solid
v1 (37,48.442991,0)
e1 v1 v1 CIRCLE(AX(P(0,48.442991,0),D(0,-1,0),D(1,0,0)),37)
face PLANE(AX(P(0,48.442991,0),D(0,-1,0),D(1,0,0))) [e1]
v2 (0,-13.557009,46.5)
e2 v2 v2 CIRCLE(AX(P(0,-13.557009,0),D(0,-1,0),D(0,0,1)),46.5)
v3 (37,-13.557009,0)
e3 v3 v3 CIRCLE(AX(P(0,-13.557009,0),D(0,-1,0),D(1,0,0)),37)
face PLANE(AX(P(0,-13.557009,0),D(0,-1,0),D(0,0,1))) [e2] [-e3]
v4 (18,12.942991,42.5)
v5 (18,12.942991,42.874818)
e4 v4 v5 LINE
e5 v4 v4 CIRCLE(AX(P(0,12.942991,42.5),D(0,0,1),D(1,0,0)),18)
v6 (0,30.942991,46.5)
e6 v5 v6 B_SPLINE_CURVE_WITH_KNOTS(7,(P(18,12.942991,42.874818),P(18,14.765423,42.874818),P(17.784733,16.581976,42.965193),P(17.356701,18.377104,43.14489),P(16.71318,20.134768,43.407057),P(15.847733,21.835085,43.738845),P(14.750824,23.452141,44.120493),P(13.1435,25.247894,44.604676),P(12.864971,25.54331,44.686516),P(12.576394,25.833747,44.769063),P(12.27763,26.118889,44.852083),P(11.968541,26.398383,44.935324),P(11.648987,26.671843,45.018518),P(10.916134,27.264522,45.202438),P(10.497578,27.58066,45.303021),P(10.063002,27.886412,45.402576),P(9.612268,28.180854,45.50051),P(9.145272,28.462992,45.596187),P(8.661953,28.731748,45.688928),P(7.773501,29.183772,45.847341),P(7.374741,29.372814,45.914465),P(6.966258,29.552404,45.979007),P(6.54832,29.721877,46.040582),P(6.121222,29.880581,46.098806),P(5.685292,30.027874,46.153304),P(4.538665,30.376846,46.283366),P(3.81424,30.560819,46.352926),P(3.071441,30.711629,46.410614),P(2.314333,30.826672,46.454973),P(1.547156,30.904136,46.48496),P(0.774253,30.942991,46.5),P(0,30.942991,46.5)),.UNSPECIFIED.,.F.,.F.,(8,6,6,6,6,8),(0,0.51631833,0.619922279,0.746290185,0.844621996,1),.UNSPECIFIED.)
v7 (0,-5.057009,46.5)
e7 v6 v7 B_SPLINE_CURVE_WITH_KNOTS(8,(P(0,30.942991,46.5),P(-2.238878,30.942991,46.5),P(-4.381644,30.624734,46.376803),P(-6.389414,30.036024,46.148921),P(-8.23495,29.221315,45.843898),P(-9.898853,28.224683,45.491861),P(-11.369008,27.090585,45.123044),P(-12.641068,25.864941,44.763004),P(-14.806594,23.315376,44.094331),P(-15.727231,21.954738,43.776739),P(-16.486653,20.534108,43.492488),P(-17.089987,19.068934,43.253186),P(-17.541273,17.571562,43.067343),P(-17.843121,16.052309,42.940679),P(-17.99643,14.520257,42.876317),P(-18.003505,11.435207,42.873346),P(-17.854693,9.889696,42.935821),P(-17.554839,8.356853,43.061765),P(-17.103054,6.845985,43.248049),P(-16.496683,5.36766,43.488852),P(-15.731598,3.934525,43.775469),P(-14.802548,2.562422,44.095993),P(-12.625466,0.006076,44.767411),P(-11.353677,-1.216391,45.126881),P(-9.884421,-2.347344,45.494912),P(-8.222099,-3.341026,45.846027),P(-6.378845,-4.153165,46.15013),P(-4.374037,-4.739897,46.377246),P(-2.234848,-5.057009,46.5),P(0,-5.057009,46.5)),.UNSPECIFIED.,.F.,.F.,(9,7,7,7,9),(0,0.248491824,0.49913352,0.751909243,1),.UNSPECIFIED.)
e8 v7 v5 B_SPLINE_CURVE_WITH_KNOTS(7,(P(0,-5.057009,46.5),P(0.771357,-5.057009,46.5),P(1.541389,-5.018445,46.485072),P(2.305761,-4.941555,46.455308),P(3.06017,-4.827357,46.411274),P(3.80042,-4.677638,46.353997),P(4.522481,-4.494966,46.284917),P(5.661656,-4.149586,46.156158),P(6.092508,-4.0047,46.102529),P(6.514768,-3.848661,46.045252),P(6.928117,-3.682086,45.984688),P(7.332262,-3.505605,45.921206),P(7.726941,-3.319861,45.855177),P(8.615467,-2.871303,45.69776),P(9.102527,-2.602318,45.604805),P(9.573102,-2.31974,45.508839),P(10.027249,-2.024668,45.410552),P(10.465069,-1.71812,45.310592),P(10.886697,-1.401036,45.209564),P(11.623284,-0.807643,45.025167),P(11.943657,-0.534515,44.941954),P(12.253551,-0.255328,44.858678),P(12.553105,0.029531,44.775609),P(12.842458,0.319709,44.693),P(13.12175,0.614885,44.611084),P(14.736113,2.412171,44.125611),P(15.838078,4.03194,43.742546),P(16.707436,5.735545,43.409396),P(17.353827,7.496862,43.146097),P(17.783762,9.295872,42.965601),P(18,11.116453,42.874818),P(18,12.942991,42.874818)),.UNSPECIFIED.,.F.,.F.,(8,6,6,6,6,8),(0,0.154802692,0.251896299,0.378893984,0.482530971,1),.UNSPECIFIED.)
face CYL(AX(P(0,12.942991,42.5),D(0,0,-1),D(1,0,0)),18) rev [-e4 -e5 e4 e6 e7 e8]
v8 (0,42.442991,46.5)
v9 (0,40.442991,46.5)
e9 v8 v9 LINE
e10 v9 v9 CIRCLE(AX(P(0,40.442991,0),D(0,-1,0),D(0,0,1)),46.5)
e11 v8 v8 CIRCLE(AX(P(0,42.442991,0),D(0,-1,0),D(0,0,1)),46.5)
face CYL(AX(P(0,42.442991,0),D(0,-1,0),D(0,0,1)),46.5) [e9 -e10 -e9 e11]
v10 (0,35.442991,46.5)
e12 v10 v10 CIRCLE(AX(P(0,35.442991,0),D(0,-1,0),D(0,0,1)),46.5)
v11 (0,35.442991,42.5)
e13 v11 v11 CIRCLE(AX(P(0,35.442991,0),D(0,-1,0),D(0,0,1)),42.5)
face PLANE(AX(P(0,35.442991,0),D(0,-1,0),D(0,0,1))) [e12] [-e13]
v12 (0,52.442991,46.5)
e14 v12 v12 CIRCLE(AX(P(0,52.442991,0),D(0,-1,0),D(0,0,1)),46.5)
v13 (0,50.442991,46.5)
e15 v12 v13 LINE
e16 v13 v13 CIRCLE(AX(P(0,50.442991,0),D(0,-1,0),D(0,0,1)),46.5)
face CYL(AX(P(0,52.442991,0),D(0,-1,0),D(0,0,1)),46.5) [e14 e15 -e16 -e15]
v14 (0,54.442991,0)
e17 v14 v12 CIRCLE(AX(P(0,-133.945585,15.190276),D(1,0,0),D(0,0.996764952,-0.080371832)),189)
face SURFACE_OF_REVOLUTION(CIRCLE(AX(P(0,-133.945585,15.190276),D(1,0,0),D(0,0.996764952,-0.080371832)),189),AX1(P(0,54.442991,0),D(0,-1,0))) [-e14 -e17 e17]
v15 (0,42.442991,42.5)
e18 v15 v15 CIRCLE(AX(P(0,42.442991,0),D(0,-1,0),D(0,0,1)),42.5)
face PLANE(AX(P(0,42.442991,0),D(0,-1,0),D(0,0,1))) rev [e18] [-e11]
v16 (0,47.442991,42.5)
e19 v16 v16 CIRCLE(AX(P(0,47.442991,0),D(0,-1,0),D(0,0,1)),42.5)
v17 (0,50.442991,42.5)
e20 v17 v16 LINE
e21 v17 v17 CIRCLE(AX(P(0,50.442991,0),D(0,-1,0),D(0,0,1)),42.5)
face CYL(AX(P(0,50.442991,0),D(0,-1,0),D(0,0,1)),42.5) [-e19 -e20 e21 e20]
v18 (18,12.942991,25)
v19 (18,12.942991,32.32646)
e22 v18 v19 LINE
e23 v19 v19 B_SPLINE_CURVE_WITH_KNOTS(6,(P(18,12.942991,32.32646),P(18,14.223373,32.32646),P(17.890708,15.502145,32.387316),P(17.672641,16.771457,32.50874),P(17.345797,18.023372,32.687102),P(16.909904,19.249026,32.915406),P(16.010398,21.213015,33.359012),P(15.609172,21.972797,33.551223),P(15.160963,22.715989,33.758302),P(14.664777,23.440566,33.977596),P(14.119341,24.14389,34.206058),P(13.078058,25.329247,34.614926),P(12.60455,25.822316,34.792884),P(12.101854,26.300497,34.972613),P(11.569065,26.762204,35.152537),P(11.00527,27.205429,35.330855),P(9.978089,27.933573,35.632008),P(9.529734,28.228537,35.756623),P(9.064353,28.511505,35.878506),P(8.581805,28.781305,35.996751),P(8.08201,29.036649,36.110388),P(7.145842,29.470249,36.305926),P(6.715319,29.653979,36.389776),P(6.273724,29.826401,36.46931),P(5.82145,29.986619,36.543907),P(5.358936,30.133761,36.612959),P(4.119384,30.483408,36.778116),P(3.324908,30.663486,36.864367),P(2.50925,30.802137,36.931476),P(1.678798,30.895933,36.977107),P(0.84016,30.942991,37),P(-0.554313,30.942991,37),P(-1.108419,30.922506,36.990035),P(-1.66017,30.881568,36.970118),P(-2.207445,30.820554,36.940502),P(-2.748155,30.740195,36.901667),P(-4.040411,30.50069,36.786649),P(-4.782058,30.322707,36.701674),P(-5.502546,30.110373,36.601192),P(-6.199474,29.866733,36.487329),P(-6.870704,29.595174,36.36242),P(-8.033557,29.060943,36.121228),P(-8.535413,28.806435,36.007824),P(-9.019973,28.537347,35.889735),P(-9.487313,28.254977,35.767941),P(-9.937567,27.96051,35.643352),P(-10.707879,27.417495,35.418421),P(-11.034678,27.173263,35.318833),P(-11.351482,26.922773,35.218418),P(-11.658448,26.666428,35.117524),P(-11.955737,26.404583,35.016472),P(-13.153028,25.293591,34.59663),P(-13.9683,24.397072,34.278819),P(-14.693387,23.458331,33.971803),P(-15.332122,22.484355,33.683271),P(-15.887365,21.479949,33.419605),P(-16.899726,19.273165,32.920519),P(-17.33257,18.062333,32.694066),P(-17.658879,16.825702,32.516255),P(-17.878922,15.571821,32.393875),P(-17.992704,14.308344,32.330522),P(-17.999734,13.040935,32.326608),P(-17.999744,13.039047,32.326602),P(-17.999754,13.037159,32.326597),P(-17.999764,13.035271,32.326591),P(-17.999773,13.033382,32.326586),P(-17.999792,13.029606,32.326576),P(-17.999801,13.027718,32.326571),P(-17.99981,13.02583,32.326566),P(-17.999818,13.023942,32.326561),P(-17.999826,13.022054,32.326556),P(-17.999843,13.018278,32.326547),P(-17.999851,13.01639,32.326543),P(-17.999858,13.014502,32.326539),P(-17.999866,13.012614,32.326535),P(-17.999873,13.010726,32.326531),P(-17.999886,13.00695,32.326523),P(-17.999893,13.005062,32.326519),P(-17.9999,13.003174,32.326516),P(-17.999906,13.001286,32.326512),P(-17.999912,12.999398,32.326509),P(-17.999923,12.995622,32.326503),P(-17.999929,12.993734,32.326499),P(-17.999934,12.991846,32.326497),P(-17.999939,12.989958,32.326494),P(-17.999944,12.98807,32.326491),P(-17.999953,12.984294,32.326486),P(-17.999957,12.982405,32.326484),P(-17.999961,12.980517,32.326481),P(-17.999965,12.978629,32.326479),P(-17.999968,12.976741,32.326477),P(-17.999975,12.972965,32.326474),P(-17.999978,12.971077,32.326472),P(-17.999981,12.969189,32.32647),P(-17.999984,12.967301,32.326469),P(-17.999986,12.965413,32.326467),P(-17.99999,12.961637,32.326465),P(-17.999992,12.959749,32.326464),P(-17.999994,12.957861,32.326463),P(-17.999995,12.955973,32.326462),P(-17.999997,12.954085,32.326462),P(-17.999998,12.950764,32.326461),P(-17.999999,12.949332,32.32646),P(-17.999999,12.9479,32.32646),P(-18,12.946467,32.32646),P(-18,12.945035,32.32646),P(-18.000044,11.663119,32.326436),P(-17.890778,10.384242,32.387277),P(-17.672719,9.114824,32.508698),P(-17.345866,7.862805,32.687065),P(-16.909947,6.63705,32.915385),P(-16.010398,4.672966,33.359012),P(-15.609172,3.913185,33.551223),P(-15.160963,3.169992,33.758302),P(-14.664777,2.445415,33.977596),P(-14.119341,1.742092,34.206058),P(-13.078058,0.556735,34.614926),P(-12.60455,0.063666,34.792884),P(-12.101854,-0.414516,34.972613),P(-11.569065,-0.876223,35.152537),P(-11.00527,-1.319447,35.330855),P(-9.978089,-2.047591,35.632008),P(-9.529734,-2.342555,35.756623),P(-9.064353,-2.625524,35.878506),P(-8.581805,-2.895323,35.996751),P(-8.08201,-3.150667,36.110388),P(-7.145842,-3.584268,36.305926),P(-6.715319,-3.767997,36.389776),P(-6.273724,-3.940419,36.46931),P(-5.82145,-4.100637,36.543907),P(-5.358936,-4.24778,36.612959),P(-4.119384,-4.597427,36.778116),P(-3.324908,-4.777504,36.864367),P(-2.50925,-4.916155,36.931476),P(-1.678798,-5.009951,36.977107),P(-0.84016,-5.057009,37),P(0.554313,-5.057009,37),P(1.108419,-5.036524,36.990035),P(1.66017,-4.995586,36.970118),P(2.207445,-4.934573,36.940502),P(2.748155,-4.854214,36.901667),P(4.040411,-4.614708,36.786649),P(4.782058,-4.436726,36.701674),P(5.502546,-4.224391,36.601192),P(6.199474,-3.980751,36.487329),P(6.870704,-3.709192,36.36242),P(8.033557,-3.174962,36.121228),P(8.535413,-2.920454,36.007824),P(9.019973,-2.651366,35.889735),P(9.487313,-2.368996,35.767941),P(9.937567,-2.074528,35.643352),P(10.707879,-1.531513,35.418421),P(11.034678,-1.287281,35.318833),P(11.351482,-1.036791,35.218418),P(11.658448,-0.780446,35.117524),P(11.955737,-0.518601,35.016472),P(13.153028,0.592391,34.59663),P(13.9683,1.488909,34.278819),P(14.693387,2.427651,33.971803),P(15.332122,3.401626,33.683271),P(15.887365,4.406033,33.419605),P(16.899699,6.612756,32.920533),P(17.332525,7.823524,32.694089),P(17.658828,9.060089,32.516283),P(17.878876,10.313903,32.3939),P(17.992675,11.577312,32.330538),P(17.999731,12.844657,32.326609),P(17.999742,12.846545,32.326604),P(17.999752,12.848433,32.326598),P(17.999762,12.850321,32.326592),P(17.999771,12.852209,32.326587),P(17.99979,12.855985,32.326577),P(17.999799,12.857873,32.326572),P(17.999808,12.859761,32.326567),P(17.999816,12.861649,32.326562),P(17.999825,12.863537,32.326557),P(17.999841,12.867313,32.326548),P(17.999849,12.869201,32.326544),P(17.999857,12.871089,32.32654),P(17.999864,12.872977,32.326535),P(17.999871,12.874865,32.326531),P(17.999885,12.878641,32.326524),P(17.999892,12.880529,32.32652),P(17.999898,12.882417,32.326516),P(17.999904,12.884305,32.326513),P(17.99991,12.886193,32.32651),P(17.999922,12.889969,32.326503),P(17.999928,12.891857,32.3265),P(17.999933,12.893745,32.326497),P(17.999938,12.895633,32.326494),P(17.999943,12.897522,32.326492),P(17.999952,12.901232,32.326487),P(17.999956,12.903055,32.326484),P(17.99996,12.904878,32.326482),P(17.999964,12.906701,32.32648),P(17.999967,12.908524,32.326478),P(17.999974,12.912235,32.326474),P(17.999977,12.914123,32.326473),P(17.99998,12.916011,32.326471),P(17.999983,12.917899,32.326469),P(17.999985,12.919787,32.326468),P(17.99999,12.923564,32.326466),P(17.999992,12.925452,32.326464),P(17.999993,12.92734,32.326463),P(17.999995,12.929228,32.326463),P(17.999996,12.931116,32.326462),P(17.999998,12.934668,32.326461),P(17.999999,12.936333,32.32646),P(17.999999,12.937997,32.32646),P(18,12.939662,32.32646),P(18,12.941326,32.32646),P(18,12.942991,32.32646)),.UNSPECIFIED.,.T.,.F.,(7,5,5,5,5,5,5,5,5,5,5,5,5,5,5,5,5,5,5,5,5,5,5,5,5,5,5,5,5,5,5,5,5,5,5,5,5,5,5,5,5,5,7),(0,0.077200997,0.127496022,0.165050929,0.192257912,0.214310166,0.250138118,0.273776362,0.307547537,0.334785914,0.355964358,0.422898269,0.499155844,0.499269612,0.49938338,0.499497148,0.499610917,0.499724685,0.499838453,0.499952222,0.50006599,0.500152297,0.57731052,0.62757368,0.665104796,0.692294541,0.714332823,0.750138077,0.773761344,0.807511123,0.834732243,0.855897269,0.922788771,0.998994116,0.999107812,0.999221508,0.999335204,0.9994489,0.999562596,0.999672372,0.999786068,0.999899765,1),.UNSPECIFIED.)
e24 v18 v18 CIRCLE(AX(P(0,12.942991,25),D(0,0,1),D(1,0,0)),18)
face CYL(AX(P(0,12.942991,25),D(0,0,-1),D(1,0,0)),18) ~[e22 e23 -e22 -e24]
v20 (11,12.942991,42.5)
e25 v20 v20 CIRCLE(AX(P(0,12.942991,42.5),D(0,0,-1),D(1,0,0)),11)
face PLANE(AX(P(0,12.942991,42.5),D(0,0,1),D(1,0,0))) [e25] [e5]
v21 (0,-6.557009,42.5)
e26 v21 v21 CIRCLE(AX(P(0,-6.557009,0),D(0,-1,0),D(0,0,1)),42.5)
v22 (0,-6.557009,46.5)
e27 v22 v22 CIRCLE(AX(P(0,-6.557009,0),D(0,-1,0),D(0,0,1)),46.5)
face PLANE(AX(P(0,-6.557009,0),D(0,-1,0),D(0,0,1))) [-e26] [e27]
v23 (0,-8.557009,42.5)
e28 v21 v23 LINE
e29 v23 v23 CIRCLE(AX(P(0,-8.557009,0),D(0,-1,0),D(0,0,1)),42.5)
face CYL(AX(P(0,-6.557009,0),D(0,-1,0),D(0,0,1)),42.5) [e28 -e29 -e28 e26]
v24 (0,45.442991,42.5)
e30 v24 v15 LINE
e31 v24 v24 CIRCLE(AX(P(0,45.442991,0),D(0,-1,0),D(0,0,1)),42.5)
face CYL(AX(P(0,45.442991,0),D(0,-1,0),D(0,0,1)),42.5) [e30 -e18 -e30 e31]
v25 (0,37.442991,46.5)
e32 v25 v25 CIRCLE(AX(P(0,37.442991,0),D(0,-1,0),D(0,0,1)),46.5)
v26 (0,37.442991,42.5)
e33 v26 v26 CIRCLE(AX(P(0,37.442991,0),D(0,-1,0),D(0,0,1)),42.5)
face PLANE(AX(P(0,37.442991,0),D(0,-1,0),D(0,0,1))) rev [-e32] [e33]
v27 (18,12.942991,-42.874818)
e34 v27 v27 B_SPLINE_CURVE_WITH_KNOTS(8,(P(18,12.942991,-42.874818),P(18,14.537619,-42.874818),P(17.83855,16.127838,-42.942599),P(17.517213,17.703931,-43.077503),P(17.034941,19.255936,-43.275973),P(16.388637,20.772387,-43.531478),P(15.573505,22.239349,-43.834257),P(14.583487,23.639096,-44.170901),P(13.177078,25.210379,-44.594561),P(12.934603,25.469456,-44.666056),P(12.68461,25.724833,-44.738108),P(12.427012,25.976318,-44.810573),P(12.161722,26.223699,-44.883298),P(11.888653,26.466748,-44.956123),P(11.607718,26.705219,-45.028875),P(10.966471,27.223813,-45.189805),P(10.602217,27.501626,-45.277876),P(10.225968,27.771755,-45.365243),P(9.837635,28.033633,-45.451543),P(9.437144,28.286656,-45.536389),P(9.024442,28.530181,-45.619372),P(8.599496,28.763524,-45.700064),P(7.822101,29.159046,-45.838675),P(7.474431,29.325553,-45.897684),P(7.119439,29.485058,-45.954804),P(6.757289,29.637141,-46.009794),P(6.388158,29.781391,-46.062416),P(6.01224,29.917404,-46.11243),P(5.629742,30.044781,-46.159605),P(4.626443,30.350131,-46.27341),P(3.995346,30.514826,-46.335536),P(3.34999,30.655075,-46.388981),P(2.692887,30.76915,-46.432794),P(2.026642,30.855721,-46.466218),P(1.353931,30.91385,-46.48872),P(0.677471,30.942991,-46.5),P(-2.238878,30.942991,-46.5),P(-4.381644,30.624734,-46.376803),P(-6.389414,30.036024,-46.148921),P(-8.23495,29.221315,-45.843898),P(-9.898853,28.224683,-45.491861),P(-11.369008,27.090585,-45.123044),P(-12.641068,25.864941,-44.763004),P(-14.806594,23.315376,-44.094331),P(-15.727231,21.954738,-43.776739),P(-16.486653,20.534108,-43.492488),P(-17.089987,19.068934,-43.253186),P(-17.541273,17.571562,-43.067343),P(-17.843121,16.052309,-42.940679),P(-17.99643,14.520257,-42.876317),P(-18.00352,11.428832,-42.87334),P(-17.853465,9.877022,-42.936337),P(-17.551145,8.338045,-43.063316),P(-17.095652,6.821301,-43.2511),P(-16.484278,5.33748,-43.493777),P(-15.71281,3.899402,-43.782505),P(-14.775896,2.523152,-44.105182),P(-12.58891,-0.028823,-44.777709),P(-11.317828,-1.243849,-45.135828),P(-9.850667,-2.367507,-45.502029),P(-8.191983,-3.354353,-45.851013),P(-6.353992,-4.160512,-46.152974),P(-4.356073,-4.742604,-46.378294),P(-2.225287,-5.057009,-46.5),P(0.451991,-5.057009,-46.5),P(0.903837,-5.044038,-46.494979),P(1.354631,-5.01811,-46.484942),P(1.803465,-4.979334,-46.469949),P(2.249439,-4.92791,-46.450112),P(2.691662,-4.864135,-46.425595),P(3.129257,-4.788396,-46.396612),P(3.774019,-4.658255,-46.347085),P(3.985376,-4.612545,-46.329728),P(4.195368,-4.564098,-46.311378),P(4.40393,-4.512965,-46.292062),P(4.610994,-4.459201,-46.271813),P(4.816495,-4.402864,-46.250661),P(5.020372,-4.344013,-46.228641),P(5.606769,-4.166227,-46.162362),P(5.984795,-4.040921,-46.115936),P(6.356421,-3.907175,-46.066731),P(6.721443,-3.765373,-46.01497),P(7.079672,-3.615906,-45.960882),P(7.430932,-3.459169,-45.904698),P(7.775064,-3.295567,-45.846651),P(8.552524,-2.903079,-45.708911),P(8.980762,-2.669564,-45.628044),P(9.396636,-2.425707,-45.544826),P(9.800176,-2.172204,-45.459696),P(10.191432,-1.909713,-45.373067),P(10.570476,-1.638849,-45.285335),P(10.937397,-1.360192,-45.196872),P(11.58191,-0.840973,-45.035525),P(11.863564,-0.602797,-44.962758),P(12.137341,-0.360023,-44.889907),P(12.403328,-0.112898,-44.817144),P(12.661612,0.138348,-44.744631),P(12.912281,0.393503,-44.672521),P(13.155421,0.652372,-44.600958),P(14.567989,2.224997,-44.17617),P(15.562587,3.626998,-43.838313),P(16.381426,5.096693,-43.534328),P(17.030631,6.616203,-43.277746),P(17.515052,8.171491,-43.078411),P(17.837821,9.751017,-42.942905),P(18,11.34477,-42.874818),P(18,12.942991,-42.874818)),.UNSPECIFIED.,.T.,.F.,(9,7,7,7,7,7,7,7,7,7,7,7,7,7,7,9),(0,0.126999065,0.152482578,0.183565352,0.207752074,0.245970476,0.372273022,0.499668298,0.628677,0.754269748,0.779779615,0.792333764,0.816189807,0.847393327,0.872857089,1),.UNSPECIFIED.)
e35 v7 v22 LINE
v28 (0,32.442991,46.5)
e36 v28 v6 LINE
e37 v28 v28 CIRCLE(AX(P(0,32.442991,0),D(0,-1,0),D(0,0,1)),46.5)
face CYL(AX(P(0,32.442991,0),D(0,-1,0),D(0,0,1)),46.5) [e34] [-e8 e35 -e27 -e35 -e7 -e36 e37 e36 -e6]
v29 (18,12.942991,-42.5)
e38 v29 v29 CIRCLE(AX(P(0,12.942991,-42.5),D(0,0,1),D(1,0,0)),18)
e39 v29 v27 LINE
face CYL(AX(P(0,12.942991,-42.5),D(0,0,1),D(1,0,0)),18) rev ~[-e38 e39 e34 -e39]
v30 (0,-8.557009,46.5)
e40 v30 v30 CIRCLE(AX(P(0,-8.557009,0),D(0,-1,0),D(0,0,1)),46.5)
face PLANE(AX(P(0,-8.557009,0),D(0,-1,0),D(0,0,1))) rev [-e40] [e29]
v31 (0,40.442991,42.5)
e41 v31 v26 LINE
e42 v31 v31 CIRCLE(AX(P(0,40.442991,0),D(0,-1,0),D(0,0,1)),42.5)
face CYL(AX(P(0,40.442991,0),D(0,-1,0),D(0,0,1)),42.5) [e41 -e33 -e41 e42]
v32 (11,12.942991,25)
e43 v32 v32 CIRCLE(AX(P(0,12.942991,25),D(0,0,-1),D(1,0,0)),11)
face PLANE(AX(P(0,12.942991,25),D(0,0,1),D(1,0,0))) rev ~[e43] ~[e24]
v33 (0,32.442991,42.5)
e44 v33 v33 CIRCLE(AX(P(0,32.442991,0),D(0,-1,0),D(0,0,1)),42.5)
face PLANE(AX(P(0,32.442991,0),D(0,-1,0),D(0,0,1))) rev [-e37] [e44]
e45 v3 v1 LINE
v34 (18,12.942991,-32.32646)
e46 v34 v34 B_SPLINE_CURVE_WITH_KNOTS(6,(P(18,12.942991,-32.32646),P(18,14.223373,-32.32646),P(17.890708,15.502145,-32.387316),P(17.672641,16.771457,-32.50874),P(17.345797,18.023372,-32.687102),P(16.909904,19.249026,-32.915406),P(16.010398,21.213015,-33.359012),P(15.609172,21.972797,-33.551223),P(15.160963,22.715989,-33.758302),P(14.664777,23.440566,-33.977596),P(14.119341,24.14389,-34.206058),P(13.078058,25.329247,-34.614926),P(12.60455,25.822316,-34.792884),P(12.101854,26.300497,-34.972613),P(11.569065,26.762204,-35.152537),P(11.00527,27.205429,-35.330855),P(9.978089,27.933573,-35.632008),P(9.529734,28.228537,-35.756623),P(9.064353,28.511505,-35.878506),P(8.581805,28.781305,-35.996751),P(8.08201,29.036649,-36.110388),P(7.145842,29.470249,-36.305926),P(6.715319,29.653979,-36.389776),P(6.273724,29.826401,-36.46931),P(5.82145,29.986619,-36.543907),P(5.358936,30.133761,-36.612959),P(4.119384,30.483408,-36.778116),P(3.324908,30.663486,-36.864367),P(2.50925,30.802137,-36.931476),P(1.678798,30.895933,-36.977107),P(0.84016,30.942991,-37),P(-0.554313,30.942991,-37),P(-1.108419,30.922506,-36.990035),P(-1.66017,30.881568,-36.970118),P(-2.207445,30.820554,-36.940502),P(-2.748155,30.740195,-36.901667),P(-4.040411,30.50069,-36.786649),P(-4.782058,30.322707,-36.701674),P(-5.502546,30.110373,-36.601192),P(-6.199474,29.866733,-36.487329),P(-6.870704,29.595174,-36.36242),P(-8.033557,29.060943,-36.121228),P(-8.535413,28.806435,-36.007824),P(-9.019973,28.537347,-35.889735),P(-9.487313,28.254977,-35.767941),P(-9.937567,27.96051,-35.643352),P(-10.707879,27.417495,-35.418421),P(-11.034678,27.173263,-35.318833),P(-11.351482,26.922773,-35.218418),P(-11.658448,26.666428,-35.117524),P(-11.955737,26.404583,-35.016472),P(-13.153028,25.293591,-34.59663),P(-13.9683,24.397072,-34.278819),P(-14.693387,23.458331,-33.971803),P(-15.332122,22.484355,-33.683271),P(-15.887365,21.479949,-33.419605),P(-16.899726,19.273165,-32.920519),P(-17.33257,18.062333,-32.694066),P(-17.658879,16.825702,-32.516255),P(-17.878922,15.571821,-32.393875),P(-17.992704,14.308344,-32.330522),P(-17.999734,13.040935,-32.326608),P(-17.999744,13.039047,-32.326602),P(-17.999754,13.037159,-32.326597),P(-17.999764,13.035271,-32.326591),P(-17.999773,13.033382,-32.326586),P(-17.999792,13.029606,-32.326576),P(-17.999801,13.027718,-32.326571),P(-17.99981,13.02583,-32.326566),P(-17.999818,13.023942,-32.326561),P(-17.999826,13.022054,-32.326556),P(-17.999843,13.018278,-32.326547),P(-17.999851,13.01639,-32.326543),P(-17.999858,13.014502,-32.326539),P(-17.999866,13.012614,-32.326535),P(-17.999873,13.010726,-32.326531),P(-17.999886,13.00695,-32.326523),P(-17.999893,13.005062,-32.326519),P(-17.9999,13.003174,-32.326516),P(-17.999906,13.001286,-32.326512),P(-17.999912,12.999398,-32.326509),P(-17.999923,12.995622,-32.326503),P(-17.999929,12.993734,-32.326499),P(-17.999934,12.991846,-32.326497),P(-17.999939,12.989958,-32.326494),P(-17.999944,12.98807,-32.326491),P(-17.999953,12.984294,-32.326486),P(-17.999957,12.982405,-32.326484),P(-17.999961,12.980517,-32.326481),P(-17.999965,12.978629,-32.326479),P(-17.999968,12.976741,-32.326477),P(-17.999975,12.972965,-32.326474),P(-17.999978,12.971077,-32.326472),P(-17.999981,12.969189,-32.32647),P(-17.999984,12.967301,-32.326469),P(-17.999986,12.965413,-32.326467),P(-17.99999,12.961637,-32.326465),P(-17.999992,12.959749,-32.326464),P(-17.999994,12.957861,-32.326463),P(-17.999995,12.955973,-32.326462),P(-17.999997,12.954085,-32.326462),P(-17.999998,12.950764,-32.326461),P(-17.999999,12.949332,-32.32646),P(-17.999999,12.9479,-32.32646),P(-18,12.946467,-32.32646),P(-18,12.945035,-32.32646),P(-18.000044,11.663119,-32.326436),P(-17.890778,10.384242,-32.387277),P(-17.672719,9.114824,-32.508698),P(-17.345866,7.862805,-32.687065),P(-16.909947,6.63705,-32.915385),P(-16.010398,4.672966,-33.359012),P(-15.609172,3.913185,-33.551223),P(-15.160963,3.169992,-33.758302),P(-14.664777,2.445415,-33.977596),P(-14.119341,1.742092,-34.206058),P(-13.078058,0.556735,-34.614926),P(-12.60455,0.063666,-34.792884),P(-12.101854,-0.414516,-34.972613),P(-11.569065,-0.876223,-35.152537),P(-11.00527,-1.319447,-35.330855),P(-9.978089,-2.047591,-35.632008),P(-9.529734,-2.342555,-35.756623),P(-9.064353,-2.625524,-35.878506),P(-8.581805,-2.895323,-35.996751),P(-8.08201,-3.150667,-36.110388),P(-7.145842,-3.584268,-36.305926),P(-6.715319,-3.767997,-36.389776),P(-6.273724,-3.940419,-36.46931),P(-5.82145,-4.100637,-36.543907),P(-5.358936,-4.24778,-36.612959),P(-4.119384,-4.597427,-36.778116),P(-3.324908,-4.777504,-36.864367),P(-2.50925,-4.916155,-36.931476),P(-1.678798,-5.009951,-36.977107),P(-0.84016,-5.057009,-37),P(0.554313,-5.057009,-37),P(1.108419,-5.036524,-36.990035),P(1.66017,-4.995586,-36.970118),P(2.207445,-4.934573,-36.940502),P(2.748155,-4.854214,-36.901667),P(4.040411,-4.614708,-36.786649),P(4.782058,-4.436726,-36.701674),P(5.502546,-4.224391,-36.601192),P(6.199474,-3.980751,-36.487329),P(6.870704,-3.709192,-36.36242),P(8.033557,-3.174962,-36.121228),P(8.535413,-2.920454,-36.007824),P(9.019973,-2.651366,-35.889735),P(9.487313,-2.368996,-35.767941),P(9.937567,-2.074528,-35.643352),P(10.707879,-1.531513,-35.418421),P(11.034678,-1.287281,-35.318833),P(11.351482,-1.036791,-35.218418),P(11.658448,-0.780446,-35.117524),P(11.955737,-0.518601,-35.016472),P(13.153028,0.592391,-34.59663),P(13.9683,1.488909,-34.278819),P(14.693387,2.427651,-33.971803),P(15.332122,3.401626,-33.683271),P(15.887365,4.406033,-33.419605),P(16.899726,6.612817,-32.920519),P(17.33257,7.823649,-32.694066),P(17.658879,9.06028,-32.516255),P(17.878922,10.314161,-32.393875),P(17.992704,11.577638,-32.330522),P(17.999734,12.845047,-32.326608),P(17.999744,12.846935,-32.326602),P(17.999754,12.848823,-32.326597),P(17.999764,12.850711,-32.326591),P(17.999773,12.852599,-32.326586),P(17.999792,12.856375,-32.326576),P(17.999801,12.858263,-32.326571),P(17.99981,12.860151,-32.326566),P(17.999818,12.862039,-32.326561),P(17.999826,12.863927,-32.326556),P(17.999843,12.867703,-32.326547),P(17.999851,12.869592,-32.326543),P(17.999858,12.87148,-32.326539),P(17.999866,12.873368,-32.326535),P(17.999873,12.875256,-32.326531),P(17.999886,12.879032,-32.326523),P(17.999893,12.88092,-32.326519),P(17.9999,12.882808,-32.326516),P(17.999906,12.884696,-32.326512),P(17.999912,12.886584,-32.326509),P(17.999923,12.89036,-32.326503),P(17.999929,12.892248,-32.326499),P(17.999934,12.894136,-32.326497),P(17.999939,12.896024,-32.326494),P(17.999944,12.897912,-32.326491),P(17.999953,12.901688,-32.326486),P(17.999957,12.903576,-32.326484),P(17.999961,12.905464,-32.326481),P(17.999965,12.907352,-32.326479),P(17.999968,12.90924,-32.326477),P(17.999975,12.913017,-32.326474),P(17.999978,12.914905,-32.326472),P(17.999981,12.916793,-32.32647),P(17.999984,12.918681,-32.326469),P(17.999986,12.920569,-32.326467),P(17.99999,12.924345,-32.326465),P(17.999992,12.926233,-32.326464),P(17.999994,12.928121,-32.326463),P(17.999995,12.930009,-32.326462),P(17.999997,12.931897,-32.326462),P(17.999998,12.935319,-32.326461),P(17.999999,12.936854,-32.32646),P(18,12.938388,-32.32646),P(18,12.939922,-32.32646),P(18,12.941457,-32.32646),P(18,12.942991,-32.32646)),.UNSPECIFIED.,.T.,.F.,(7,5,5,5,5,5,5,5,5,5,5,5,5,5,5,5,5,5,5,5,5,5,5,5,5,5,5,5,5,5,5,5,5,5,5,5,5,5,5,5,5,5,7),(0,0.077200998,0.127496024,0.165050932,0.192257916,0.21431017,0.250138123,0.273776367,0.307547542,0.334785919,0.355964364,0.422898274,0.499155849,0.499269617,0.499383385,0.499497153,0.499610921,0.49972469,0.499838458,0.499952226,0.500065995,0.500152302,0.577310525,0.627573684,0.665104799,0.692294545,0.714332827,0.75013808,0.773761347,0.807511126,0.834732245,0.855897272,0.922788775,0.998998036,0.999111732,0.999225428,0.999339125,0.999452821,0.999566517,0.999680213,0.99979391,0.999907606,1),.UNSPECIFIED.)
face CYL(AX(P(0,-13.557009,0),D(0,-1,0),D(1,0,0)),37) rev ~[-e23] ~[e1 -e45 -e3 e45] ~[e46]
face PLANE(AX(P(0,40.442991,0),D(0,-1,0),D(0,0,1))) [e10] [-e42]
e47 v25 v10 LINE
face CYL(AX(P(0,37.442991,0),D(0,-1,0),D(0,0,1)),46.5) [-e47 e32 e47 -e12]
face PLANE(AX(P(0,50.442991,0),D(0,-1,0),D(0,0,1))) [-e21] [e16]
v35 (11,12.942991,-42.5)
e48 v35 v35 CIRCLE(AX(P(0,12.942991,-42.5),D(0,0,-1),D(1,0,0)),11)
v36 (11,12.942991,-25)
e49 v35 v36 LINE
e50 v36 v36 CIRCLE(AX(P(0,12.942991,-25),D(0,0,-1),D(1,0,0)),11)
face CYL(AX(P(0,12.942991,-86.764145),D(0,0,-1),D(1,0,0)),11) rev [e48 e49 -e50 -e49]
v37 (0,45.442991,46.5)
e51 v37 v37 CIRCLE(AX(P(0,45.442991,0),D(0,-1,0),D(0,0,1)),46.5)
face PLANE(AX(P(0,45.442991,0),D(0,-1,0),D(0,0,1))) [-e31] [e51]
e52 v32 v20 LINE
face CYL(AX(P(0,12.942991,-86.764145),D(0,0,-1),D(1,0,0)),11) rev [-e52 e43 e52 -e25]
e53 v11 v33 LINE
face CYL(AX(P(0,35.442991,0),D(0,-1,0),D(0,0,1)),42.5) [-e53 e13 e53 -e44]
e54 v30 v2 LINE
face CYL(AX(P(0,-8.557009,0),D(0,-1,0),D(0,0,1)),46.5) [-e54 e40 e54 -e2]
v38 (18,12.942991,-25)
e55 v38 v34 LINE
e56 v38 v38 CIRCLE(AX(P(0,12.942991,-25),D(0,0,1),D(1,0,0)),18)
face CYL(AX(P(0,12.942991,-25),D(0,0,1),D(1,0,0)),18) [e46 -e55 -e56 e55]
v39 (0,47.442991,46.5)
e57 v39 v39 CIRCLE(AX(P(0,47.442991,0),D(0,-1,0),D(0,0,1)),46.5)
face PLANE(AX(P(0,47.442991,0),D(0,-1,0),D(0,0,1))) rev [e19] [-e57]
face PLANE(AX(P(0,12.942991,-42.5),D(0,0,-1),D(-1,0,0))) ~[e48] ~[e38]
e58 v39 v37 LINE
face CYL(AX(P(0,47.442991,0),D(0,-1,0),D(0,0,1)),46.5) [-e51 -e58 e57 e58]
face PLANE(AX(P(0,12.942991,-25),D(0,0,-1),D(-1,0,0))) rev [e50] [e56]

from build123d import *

# Parameters (mm, degrees)
SKETCH3_R               = 37
CUT_EXTRUDE2_DEPTH      = 62
CUT_EXTRUDE3_START      = 42.5
SKETCH5_R               = 18
CUT_EXTRUDE3_DEPTH      = 10
BOSS_EXTRUDE1_START     = 25
SKETCH5_5_R             = 18
BOSS_EXTRUDE1_DEPTH     = 15
CUT_EXTRUDE4_DEPTH      = 86.76414545
CUT_EXTRUDE4_DEPTH_BACK = 86.76414545
SKETCH5_6_R             = 11


with BuildPart() as part:
    # Sketch1 → Revolve1 (revolve)
    with BuildSketch(Plane(origin=(0, 0, 0), x_dir=(0, 0, -1), z_dir=(1, 0, 0))):
        with BuildLine():
            ThreePointArc((0, 54.442990874), (-23.311799933, 54.879839317), (-46.5, 52.442990874))
            Line((-46.5, 52.442990874), (-46.5, 50.442990874))
            Line((-46.5, 50.442990874), (-42.5, 50.442990874))
            Line((-42.5, 50.442990874), (-42.5, 47.442990874))
            Line((-42.5, 47.442990874), (-46.5, 47.442990874))
            Line((-46.5, 47.442990874), (-46.5, 45.442990874))
            Line((-46.5, 45.442990874), (-42.5, 45.442990874))
            Line((-42.5, 45.442990874), (-42.5, 42.442990874))
            Line((-42.5, 42.442990874), (-46.5, 42.442990874))
            Line((-46.5, 42.442990874), (-46.5, 40.442990874))
            Line((-46.5, 40.442990874), (-42.5, 40.442990874))
            Line((-42.5, 40.442990874), (-42.5, 37.442990874))
            Line((-42.5, 37.442990874), (-46.5, 37.442990874))
            Line((-46.5, 37.442990874), (-46.5, 35.442990874))
            Line((-46.5, 35.442990874), (-42.5, 35.442990874))
            Line((-42.5, 35.442990874), (-42.5, 32.442990874))
            Line((-42.5, 32.442990874), (-46.5, 32.442990874))
            Line((-46.5, 32.442990874), (-46.5, -6.557009126))
            Line((-46.5, -6.557009126), (-42.5, -6.557009126))
            Line((-42.5, -6.557009126), (-42.5, -8.557009126))
            Line((-42.5, -8.557009126), (-46.5, -8.557009126))
            Line((-46.5, -8.557009126), (-46.5, -13.557009126))
            Line((-46.5, -13.557009126), (0, -13.557009126))
            Line((0, -13.557009126), (0, 54.442990874))
        make_face()
    revolve(axis=Axis((0, 54.442990874, 0), (0, -1, 0)))

    # Sketch3 → Cut-Extrude2 (cut)
    with BuildSketch(Plane.XZ.offset(13.557009126)):
        Circle(SKETCH3_R)
    extrude(amount=-CUT_EXTRUDE2_DEPTH, mode=Mode.SUBTRACT)

    # Sketch5 → Cut-Extrude3 (cut)
    with BuildSketch(Plane.XY.offset(CUT_EXTRUDE3_START)):
        with Locations((0, 12.942990874)):
            Circle(SKETCH5_R)
    cut_extrude3 = extrude(amount=CUT_EXTRUDE3_DEPTH, mode=Mode.SUBTRACT)

    # Mirror1: Cut-Extrude3 across plane
    add(cut_extrude3.mirror(Plane.XY), mode=Mode.SUBTRACT)

    # Sketch5<5> → Boss-Extrude1 (add)
    with BuildSketch(Plane.XY.offset(BOSS_EXTRUDE1_START)):
        with Locations((0, 12.942990874)):
            Circle(SKETCH5_5_R)
    boss_extrude1 = extrude(amount=BOSS_EXTRUDE1_DEPTH)

    # Mirror2: Boss-Extrude1 across plane
    add(boss_extrude1.mirror(Plane.XY))

    # Sketch5<6> → Cut-Extrude4 (cut, two sides: drawn at the far end of the back side and taken through both)
    with BuildSketch(Plane.XY.offset(-CUT_EXTRUDE4_DEPTH_BACK)):
        with Locations((0, 12.942990874)):
            Circle(SKETCH5_6_R)
    extrude(amount=CUT_EXTRUDE4_DEPTH + CUT_EXTRUDE4_DEPTH_BACK, mode=Mode.SUBTRACT)


solid = part.part
